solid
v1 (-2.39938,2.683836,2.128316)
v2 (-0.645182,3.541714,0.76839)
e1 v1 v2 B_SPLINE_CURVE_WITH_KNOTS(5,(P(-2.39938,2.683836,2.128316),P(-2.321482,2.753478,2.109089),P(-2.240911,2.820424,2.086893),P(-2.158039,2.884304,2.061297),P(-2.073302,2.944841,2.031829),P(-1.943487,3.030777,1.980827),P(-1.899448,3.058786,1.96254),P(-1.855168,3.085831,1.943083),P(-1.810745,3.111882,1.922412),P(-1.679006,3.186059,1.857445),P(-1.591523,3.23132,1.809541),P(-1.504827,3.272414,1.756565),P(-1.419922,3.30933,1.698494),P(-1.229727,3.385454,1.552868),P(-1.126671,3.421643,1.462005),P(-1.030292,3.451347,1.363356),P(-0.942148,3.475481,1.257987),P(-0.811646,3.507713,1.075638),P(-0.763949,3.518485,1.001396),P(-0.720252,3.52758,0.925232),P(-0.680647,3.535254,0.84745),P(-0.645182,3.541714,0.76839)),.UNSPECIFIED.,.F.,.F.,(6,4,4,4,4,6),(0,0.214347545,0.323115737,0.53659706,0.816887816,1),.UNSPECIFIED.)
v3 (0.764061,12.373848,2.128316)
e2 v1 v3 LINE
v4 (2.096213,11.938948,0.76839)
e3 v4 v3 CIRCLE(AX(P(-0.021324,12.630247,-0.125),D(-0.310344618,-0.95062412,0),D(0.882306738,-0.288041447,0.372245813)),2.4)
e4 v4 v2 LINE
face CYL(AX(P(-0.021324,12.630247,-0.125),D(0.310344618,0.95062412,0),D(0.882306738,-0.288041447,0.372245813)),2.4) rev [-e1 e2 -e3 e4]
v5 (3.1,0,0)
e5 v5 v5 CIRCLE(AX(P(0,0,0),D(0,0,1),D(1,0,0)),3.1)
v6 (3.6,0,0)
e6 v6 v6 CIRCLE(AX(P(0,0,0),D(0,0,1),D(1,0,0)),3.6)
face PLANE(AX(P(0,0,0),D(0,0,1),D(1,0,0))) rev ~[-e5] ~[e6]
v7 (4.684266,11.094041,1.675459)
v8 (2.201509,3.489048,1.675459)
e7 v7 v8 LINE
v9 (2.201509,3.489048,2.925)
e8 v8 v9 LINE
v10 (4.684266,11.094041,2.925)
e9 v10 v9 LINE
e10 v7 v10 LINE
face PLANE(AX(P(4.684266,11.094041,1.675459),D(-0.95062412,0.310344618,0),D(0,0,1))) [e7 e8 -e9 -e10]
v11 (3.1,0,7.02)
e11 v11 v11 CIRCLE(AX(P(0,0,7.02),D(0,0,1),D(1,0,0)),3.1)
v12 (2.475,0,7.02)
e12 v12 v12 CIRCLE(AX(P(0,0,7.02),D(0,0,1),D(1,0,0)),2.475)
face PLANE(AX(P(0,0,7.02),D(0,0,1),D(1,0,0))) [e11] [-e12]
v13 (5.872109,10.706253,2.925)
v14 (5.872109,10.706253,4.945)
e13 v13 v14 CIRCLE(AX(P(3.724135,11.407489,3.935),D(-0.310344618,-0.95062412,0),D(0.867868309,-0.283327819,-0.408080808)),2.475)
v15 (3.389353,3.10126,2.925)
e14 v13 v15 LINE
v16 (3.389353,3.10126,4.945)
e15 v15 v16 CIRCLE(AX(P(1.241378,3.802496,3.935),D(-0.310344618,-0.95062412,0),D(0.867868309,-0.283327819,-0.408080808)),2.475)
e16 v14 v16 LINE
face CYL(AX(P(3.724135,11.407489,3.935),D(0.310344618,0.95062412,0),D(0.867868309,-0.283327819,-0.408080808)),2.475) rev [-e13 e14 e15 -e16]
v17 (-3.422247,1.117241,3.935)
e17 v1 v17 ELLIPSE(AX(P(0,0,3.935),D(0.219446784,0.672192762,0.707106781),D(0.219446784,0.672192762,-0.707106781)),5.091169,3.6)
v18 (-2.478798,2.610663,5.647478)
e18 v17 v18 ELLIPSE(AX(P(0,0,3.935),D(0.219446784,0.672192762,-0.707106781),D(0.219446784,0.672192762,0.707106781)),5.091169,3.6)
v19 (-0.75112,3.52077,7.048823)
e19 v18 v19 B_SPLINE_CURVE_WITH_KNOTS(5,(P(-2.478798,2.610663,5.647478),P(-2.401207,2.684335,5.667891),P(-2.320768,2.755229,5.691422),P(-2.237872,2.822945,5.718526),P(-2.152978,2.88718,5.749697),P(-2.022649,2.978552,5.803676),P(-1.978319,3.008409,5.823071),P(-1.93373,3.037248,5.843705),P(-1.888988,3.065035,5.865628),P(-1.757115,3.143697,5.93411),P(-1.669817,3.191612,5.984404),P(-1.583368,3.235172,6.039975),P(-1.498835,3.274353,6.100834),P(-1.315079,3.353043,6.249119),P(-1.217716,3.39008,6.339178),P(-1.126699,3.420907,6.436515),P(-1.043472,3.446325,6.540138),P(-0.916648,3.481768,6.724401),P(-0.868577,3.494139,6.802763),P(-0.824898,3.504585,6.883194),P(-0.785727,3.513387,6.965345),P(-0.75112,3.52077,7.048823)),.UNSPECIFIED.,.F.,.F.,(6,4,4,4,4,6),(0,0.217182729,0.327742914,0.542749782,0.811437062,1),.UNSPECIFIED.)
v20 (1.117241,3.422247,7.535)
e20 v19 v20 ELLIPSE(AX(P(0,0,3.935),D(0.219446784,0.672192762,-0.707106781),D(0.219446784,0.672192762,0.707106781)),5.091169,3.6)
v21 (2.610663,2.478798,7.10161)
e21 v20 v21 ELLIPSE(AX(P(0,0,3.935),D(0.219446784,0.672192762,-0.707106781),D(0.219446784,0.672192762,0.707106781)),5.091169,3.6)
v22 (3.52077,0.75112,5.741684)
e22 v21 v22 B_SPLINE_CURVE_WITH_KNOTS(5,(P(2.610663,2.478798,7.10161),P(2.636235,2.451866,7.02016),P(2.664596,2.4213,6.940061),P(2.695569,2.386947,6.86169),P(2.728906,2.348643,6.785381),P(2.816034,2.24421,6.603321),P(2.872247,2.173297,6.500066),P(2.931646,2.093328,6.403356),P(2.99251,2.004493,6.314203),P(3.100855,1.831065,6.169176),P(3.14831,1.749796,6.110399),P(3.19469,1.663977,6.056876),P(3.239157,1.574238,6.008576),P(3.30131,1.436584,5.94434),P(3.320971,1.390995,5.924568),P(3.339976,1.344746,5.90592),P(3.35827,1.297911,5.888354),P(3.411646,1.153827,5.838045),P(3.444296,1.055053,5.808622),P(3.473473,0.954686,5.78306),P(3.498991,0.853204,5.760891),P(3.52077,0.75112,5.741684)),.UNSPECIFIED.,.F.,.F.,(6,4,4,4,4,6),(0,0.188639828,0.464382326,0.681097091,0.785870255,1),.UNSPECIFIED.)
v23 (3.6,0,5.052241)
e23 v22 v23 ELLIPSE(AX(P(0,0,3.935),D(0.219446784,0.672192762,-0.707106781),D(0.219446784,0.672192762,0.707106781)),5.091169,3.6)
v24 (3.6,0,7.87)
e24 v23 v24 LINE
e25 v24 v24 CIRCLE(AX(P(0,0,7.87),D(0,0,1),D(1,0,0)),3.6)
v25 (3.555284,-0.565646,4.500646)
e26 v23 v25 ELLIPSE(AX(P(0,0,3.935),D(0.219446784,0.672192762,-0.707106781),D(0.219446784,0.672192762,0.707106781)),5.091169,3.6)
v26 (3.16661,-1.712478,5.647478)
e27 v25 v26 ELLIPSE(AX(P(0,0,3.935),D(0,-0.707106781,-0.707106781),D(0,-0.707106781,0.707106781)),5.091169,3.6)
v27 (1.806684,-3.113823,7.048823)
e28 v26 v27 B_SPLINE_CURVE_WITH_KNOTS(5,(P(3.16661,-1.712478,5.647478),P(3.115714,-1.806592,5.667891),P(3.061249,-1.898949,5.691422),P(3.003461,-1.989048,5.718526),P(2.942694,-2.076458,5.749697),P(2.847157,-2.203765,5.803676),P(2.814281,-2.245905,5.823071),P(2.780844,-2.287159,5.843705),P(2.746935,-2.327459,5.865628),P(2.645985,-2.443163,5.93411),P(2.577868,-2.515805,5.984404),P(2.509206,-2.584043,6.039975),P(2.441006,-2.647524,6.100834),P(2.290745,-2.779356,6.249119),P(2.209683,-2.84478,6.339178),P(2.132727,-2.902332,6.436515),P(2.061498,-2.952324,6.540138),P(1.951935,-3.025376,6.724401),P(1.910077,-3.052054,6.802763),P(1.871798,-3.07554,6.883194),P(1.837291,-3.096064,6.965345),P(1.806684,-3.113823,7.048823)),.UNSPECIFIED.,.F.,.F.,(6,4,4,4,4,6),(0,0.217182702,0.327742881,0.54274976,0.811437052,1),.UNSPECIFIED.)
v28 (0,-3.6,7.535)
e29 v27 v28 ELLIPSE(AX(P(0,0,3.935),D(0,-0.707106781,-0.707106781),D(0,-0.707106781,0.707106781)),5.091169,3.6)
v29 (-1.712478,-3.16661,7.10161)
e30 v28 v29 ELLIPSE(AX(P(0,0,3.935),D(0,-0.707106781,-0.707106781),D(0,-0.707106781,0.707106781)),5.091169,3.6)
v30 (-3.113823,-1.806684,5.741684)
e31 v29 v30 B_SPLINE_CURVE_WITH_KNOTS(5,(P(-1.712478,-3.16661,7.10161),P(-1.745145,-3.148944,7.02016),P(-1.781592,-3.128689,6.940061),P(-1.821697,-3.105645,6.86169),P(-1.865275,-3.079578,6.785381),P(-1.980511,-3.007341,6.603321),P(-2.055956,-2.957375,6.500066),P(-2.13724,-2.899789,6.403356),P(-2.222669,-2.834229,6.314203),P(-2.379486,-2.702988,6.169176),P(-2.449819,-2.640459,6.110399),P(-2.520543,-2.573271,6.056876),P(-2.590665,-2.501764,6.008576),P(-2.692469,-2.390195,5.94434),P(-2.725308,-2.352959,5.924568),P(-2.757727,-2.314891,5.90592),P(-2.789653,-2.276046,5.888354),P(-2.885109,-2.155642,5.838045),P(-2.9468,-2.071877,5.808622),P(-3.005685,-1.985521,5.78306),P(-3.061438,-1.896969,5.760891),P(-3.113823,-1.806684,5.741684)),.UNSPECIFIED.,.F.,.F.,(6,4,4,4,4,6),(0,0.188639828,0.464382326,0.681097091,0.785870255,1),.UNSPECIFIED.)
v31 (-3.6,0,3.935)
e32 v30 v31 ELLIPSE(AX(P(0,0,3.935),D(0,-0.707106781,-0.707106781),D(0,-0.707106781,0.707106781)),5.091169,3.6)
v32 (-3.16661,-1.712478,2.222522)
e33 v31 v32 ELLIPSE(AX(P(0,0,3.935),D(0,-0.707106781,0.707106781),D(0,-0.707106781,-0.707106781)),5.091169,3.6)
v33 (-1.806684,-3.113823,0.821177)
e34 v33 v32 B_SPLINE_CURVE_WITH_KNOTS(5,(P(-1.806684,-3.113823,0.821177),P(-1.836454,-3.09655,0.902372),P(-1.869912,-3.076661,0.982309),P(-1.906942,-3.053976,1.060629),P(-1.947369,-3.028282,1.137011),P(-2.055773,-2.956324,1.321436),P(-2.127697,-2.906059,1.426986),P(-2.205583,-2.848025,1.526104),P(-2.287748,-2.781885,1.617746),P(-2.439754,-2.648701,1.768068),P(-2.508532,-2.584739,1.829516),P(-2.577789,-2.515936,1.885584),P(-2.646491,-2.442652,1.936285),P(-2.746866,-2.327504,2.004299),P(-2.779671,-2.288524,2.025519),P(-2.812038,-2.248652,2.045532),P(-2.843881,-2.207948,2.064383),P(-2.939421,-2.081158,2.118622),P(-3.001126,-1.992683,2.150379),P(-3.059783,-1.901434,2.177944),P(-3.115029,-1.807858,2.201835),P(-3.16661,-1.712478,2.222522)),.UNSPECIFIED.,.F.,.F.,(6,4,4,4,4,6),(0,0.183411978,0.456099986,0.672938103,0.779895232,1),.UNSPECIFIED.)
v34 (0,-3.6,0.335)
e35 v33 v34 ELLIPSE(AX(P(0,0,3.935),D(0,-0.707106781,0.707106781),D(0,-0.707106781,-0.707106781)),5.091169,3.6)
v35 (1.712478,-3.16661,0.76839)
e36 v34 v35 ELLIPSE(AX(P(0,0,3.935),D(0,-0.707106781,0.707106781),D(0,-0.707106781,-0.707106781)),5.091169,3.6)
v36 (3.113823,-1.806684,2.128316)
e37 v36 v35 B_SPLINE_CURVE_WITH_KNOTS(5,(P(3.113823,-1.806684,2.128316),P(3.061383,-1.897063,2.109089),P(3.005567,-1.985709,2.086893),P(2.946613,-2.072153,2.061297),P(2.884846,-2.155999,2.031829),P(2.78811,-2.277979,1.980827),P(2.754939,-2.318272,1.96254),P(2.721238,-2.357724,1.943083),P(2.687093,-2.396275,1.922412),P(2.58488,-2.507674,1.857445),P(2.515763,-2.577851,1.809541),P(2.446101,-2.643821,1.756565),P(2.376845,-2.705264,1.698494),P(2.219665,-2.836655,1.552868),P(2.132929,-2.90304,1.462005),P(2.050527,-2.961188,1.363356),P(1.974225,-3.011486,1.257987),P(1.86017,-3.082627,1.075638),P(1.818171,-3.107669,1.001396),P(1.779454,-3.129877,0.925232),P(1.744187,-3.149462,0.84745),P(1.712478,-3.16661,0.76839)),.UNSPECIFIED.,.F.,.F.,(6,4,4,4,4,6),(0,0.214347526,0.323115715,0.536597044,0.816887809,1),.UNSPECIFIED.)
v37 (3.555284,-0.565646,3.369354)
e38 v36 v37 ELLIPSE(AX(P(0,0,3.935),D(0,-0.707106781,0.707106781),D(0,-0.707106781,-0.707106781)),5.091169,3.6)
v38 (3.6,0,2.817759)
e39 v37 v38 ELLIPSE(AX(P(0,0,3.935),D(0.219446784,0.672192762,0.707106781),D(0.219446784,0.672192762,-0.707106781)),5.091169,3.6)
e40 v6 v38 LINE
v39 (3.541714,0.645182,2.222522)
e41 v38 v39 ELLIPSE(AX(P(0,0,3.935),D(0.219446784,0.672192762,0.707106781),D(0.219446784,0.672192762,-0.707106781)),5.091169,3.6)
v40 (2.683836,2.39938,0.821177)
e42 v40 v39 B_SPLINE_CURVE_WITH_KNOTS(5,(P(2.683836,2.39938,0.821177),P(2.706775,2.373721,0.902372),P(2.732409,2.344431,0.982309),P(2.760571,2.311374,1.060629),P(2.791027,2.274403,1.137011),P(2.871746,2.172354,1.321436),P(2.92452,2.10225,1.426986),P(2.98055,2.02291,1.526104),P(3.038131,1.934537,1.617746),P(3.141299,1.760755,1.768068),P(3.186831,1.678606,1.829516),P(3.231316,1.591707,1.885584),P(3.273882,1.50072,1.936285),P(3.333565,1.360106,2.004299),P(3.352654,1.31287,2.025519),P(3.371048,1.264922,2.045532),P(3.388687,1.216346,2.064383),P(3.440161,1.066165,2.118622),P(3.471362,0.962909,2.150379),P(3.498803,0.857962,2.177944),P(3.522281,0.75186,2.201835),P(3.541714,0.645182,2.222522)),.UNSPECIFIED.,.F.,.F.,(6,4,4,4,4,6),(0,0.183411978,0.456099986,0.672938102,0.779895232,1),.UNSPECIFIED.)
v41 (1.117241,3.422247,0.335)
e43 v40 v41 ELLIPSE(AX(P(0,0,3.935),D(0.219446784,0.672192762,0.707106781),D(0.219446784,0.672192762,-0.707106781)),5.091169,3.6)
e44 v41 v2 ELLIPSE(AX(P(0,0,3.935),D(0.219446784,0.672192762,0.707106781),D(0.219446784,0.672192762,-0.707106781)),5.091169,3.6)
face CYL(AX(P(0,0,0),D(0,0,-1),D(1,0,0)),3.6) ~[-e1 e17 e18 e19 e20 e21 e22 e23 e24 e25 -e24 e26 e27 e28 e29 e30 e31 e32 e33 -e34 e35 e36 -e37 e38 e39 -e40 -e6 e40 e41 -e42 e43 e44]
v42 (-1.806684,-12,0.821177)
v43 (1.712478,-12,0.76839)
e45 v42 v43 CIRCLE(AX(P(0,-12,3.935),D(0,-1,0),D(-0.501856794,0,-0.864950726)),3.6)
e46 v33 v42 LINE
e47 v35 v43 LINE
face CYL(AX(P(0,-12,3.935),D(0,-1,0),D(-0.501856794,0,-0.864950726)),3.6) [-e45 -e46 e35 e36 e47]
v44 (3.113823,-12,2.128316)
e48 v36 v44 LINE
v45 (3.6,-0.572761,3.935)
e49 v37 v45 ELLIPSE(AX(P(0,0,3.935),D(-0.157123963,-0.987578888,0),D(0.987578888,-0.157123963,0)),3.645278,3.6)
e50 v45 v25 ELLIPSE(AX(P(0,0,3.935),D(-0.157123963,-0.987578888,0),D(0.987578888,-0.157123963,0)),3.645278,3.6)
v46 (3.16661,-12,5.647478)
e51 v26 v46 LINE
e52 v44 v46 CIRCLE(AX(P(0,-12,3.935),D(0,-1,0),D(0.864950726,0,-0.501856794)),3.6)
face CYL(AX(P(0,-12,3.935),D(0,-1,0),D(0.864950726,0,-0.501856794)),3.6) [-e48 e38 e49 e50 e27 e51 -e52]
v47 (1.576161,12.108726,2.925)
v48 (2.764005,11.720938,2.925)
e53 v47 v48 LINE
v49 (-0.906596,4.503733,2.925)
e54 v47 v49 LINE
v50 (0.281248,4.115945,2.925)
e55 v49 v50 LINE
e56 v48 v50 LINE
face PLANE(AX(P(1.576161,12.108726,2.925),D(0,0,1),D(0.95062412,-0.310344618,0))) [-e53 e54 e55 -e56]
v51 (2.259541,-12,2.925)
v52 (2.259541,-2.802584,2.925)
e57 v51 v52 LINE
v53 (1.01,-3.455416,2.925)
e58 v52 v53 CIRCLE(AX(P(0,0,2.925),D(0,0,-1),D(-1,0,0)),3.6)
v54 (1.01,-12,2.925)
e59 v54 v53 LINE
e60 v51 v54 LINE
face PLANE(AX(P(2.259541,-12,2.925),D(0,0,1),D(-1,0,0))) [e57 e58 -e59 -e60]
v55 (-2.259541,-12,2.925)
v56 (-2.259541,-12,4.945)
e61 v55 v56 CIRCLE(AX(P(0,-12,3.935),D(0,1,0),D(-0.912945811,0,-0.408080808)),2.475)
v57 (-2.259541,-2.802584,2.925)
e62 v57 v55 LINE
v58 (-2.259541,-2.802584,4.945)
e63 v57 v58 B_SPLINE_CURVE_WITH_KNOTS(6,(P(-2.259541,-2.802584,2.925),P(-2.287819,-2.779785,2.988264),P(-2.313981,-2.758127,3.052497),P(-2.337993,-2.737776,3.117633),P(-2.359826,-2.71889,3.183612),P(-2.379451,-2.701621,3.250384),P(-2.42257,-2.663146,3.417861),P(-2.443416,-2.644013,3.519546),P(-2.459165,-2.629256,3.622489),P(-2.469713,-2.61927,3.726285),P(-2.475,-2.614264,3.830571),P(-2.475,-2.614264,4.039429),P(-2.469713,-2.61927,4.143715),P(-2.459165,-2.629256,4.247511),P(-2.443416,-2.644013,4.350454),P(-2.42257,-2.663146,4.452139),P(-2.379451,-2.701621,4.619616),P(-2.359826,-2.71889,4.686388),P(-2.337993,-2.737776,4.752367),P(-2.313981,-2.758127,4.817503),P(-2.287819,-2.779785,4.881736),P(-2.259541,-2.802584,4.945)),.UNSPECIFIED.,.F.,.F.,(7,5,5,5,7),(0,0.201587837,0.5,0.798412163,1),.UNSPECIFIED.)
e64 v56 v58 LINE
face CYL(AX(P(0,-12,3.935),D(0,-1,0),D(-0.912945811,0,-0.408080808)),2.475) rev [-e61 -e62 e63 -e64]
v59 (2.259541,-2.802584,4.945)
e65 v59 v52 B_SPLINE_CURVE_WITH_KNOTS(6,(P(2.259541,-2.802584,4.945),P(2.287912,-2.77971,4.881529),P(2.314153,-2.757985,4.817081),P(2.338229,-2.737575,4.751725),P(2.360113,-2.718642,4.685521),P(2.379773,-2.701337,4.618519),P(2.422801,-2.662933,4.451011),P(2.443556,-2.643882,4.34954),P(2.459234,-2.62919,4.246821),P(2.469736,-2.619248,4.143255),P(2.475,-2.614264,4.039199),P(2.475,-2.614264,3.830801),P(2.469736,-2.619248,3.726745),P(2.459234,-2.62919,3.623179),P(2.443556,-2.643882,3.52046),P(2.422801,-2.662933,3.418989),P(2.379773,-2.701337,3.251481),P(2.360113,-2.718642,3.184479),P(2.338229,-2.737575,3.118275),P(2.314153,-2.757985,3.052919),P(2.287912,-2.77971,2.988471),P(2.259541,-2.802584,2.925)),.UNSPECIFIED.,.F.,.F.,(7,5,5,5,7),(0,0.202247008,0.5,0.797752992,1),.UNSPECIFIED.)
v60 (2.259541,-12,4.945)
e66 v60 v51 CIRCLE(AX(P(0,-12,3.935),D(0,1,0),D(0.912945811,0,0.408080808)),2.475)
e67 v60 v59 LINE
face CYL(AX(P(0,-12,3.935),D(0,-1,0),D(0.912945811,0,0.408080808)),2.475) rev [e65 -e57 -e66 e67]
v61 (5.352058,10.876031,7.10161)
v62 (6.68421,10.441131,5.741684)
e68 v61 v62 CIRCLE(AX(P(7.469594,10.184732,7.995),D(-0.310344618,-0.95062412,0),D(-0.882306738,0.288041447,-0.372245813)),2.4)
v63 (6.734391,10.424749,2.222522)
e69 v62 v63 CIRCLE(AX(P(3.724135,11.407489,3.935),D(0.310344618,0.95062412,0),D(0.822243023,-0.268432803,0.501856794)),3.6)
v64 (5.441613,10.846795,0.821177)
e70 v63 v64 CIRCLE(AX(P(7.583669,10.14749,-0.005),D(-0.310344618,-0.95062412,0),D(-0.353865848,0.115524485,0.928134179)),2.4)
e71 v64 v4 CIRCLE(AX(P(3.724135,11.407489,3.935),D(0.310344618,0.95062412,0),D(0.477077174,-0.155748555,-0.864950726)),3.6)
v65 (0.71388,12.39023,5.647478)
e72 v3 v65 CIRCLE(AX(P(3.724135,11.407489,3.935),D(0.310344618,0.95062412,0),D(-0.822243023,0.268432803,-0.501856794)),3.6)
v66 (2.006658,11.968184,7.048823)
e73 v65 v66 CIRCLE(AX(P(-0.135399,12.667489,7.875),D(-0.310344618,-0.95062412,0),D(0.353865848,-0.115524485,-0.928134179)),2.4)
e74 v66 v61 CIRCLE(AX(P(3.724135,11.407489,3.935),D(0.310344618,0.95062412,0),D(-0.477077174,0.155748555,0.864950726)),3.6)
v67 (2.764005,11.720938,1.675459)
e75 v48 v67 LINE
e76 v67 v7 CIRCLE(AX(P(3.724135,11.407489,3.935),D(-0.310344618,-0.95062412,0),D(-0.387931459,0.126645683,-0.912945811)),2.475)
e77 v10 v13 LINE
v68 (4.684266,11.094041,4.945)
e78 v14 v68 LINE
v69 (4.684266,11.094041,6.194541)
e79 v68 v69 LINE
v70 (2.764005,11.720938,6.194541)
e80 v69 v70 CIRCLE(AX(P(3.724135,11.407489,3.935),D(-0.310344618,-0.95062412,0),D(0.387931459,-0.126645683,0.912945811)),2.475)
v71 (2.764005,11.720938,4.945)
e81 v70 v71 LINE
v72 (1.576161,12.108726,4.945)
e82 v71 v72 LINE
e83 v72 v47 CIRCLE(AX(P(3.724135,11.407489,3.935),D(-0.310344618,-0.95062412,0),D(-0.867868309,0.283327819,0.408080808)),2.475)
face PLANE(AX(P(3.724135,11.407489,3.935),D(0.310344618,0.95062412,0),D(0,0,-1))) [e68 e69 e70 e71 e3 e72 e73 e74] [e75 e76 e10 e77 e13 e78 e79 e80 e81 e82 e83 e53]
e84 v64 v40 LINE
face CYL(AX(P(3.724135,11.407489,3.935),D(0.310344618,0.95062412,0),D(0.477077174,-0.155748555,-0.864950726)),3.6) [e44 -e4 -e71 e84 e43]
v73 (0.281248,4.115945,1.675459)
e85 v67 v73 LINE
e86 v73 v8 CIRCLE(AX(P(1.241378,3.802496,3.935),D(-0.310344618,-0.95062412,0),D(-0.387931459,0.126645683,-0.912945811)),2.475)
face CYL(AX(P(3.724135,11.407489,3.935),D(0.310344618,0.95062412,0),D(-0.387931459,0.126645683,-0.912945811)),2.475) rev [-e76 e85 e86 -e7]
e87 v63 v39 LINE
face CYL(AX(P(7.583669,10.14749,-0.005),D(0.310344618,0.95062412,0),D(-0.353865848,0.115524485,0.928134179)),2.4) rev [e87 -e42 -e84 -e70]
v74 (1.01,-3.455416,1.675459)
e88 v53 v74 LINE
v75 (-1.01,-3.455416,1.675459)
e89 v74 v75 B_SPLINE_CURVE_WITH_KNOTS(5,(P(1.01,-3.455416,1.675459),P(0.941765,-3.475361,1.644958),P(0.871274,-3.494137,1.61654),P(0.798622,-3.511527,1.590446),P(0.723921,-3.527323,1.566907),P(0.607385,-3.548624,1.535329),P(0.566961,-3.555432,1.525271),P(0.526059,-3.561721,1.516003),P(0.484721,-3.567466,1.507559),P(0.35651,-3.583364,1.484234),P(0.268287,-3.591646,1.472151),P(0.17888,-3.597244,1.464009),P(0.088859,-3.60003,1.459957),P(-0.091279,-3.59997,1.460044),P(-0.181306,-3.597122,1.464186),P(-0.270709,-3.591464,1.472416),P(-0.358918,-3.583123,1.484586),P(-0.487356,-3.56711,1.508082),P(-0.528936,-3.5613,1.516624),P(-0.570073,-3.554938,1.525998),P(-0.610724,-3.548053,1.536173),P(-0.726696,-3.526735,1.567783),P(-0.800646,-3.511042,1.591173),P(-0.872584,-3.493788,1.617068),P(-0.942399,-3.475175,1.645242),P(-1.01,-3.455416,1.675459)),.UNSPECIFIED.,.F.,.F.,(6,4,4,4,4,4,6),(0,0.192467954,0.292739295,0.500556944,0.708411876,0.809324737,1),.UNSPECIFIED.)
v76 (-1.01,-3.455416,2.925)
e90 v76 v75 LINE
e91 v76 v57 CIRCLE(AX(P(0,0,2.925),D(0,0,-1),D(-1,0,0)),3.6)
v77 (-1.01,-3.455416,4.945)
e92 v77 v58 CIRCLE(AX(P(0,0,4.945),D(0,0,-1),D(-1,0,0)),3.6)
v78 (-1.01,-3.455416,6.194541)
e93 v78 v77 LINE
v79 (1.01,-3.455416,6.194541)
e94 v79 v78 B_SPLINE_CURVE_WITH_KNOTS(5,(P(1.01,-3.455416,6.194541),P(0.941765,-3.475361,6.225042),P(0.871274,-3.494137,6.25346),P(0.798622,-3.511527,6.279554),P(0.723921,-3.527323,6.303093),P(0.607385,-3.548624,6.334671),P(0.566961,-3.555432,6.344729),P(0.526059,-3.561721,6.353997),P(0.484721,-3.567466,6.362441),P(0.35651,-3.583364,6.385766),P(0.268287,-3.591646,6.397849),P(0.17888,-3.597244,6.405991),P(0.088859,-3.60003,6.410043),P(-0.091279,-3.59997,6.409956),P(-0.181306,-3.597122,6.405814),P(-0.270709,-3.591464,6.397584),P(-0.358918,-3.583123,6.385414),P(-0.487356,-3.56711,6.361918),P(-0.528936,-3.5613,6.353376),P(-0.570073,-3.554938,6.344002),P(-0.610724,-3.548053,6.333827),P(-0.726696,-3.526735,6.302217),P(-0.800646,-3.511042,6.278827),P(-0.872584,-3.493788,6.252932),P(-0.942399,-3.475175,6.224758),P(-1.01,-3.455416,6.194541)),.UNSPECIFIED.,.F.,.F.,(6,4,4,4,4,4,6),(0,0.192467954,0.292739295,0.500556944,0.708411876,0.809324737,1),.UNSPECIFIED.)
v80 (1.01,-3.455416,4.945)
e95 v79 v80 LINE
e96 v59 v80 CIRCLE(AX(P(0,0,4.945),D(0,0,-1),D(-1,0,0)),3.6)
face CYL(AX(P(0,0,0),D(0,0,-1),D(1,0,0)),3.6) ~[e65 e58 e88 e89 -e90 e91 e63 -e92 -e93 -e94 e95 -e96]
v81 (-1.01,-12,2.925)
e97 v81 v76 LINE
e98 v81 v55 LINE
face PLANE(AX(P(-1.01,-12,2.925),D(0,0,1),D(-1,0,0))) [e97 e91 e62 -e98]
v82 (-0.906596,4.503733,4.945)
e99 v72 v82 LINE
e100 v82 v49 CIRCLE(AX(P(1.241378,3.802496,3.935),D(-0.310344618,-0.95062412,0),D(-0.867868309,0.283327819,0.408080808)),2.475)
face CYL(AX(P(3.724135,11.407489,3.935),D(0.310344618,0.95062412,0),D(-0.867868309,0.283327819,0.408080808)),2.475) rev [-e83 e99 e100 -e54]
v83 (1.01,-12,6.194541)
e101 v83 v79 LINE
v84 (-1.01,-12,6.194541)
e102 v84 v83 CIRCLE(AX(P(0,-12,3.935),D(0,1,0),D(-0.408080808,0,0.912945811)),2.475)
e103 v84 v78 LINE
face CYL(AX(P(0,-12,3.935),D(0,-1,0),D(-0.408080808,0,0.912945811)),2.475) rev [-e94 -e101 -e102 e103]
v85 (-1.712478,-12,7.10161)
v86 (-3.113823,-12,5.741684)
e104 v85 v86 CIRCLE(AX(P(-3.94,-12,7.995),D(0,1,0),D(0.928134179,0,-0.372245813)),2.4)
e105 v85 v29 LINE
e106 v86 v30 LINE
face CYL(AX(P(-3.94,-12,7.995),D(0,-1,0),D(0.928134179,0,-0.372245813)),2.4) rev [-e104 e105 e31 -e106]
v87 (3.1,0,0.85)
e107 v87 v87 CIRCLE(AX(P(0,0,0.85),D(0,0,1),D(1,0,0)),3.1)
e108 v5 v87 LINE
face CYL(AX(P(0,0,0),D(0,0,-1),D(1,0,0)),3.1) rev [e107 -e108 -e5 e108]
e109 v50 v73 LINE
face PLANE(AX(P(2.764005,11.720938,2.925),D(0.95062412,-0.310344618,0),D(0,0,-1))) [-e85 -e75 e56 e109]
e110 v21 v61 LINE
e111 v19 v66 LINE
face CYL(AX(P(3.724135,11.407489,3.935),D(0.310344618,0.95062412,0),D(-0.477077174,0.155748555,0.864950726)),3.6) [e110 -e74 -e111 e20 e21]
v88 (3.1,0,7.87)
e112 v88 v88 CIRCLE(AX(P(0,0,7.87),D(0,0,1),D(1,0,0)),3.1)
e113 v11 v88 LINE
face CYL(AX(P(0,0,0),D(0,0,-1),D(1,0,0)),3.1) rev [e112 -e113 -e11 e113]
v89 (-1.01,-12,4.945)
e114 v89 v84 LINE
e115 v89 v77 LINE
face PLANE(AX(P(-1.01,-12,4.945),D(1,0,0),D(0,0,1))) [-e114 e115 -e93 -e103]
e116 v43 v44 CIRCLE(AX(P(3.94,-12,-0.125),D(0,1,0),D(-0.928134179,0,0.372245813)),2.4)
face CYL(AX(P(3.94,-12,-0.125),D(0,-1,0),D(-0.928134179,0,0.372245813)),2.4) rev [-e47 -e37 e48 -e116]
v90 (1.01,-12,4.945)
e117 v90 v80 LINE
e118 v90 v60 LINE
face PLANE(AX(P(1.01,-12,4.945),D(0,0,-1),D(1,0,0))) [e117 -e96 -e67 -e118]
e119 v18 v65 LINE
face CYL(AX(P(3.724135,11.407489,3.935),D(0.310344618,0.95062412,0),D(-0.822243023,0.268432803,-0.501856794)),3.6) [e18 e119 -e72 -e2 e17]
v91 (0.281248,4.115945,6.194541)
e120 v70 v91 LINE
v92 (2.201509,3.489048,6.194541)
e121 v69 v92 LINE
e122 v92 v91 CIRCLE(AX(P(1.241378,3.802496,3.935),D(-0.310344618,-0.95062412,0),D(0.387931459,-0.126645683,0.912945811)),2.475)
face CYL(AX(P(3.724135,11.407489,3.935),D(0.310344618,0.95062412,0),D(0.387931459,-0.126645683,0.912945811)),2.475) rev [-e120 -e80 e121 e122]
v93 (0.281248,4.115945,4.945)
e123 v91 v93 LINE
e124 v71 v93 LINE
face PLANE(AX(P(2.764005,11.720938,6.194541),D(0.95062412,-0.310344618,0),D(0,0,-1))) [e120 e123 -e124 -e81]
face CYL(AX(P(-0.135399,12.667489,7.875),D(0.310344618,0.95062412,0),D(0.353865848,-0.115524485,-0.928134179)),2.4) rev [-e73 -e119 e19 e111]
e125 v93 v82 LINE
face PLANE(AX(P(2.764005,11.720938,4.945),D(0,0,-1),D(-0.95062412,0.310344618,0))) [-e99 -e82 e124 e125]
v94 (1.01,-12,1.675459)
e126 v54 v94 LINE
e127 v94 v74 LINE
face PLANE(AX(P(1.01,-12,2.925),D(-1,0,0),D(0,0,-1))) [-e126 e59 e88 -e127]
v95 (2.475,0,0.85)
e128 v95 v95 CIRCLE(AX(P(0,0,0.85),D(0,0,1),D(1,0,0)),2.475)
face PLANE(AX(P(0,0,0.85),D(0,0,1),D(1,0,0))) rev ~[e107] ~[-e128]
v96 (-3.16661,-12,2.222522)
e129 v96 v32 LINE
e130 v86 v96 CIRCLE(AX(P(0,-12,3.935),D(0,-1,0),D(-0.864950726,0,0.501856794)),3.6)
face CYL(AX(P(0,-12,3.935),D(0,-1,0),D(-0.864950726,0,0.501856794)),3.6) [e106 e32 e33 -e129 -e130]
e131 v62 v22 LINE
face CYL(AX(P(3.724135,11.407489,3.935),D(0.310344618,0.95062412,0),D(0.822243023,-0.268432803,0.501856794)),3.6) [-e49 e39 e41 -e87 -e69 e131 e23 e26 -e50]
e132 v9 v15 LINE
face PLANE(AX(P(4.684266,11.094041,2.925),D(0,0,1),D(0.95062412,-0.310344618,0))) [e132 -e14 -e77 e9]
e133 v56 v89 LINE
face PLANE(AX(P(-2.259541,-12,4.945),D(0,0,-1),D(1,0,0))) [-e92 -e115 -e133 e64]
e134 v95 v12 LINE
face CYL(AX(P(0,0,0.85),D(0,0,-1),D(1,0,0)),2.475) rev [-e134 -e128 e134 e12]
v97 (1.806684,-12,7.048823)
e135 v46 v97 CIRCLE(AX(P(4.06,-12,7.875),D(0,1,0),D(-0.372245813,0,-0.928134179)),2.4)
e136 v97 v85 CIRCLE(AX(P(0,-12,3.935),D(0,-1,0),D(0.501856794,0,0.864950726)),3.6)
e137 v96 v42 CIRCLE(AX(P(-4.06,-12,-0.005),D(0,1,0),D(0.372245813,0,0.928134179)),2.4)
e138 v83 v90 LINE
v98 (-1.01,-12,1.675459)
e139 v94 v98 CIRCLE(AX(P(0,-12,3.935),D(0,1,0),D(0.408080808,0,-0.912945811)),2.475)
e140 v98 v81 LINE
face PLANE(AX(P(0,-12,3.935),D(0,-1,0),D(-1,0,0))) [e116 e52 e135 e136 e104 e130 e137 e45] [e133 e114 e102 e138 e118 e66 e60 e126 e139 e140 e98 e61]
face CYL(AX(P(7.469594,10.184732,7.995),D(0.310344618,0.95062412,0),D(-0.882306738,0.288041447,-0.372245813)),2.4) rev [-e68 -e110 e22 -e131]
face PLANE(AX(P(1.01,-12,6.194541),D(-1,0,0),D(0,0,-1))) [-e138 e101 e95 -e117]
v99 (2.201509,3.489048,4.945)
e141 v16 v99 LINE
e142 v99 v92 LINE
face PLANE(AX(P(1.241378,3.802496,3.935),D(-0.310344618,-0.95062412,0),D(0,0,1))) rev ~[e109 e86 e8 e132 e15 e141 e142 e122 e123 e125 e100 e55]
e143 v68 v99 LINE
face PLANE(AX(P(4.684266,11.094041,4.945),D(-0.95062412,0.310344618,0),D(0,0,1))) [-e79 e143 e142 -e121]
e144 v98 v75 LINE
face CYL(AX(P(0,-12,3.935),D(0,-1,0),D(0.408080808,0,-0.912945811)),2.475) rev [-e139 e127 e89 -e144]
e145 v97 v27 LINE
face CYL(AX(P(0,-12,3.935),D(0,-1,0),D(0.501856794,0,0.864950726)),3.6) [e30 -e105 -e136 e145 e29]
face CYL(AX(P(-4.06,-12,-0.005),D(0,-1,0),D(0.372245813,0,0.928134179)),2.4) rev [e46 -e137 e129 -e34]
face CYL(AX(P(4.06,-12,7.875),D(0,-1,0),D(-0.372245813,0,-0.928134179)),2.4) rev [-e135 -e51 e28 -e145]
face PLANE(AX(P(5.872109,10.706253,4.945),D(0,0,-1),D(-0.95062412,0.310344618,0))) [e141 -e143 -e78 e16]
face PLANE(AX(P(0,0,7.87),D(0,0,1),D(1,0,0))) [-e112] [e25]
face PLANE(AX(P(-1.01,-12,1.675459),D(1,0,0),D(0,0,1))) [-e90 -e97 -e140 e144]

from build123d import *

# Parameters (mm, degrees)
CROQUIS1_R                   = 3.6
CROQUIS1_R_2                 = 3.1
SALIENTE_EXTRUIR1_DEPTH      = 7.87
SALIENTE_EXTRUIR2_START      = 0.85
CROQUIS1_3_R                 = 3.1
CROQUIS1_3_R_2               = 2.475
SALIENTE_EXTRUIR2_DEPTH      = 6.17
SALIENTE_EXTRUIR3_REACH      = 13.518
SALIENTE_EXTRUIR3_END_RADIUS = 3.6
SALIENTE_EXTRUIR4_START      = -8
SALIENTE_EXTRUIR4_DEPTH      = 8
SALIENTE_EXTRUIR5_REACH      = 20.306
SALIENTE_EXTRUIR5_END_RADIUS = 3.6
SALIENTE_EXTRUIR6_START      = -8
SALIENTE_EXTRUIR6_DEPTH      = 8


with BuildPart() as part:
    # Croquis1 → Saliente-Extruir1 (new body)
    with BuildSketch(Plane.XY):
        Circle(CROQUIS1_R)
        Circle(CROQUIS1_R_2, mode=Mode.SUBTRACT)
    extrude(amount=SALIENTE_EXTRUIR1_DEPTH)

    # Croquis1<3> → Saliente-Extruir2 (add)
    with BuildSketch(Plane.XY.offset(SALIENTE_EXTRUIR2_START)):
        Circle(CROQUIS1_3_R)
        Circle(CROQUIS1_3_R_2, mode=Mode.SUBTRACT)
    extrude(amount=SALIENTE_EXTRUIR2_DEPTH)

    # Saliente-Extruir3: up to this cylinder (the profile starts outside it)
    saliente_extruir3_end = Plane(origin=(0, 0, 6.19961), z_dir=(0, 0, -1)) * Cylinder(SALIENTE_EXTRUIR3_END_RADIUS, 35.236000000000004, mode=Mode.PRIVATE)
    # Croquis2 → Saliente-Extruir3 (add, up to the surface)
    with BuildSketch(Plane(origin=(0, -4, 0), x_dir=(1, 0, 0), z_dir=(0, 1, 0)), mode=Mode.PRIVATE) as saliente_extruir3_sk1:
        with BuildLine():
            ThreePointArc((-1.7124779696357202, -7.101610049171246), (0.05399392602494436, -7.534595068330939), (1.806684459564255, -7.048822612733265))
            ThreePointArc((1.806684459564255, -7.048822612733265), (2.337681630948243, -6.203587592595142), (3.1666100491712275, -5.647477969635754))
            ThreePointArc((3.1666100491712275, -5.647477969635754), (3.599595068330938, -3.881006073975069), (3.1138226127332604, -2.1283155404357355))
            ThreePointArc((3.1138226127332604, -2.1283155404357355), (2.268587592595135, -1.597318369051751), (1.7124779696357444, -0.7683899508287686))
            ThreePointArc((1.7124779696357444, -0.7683899508287686), (-0.0539939260249431, -0.3354049316690628), (-1.806684459564274, -0.8211773872667488))
            ThreePointArc((-1.806684459564274, -0.8211773872667488), (-2.337681630948256, -1.6664124074048765), (-3.166610049171237, -2.22252203036427))
            ThreePointArc((-3.166610049171237, -2.22252203036427), (-3.599595068330935, -3.9889939260249565), (-3.1138226127332462, -5.741684459564288))
            ThreePointArc((-3.1138226127332462, -5.741684459564288), (-2.268587592595116, -6.272681630948267), (-1.7124779696357202, -7.101610049171246))
        make_face()
        with BuildLine():
            Line((-1.01, -6.194540882568846), (-1.01, -4.944999999999999))
            Line((-1.01, -4.944999999999999), (-2.2595408825688463, -4.944999999999999))
            ThreePointArc((-2.2595408825688463, -4.944999999999999), (-2.475, -3.9349999999999996), (-2.2595408825688463, -2.9250000000000007))
            Line((-2.2595408825688463, -2.9250000000000007), (-1.01, -2.9250000000000007))
            Line((-1.01, -2.9250000000000007), (-1.01, -1.675459117431154))
            ThreePointArc((-1.01, -1.675459117431154), (1.5e-16, -1.4600000000000004), (1.01, -1.675459117431154))
            Line((1.01, -1.675459117431154), (1.01, -2.9250000000000007))
            Line((1.01, -2.9250000000000007), (2.2595408825688463, -2.9250000000000007))
            ThreePointArc((2.2595408825688463, -2.9250000000000007), (2.475, -3.935), (2.2595408825688463, -4.944999999999999))
            Line((2.2595408825688463, -4.944999999999999), (1.01, -4.944999999999999))
            Line((1.01, -4.944999999999999), (1.01, -6.194540882568846))
            ThreePointArc((1.01, -6.194540882568846), (1.5e-16, -6.41), (-1.01, -6.194540882568846))
        make_face(mode=Mode.SUBTRACT)
    saliente_extruir3_tool1 = extrude(saliente_extruir3_sk1.sketch, amount=SALIENTE_EXTRUIR3_REACH, mode=Mode.PRIVATE) - saliente_extruir3_end
    add(saliente_extruir3_tool1.solids().sort_by_distance((-2.197676, -4, 6.19961))[0])

    # Croquis2<3> → Saliente-Extruir4 (add)
    with BuildSketch(Plane(origin=(0, -4, 0), x_dir=(1, 0, 0), z_dir=(0, 1, 0)).offset(SALIENTE_EXTRUIR4_START)):
        with BuildLine():
            ThreePointArc((-3.166610049171237, -2.22252203036427), (-2.337681630948256, -1.6664124074048765), (-1.806684459564274, -0.8211773872667488))
            ThreePointArc((-1.806684459564274, -0.8211773872667488), (-0.0539939260249431, -0.3354049316690628), (1.7124779696357444, -0.7683899508287686))
            ThreePointArc((1.7124779696357444, -0.7683899508287686), (2.268587592595135, -1.597318369051751), (3.1138226127332604, -2.1283155404357355))
            ThreePointArc((3.1138226127332604, -2.1283155404357355), (3.599595068330938, -3.881006073975069), (3.1666100491712275, -5.647477969635754))
            ThreePointArc((3.1666100491712275, -5.647477969635754), (2.337681630948243, -6.203587592595142), (1.806684459564255, -7.048822612733265))
            ThreePointArc((1.806684459564255, -7.048822612733265), (0.05399392602494436, -7.534595068330939), (-1.7124779696357202, -7.101610049171246))
            ThreePointArc((-1.7124779696357202, -7.101610049171246), (-2.268587592595116, -6.272681630948267), (-3.1138226127332462, -5.741684459564288))
            ThreePointArc((-3.1138226127332462, -5.741684459564288), (-3.599595068330935, -3.9889939260249565), (-3.166610049171237, -2.22252203036427))
        make_face()
        with BuildLine():
            ThreePointArc((-2.2595408825688463, -2.9250000000000007), (-2.475, -3.9349999999999996), (-2.2595408825688463, -4.944999999999999))
            Line((-2.2595408825688463, -4.944999999999999), (-1.01, -4.944999999999999))
            Line((-1.01, -4.944999999999999), (-1.01, -6.194540882568846))
            ThreePointArc((-1.01, -6.194540882568846), (1.5e-16, -6.41), (1.01, -6.194540882568846))
            Line((1.01, -6.194540882568846), (1.01, -4.944999999999999))
            Line((1.01, -4.944999999999999), (2.2595408825688463, -4.944999999999999))
            ThreePointArc((2.2595408825688463, -4.944999999999999), (2.475, -3.935), (2.2595408825688463, -2.9250000000000007))
            Line((2.2595408825688463, -2.9250000000000007), (1.01, -2.9250000000000007))
            Line((1.01, -2.9250000000000007), (1.01, -1.675459117431154))
            ThreePointArc((1.01, -1.675459117431154), (1.5e-16, -1.4600000000000004), (-1.01, -1.675459117431154))
            Line((-1.01, -1.675459117431154), (-1.01, -2.9250000000000007))
            Line((-1.01, -2.9250000000000007), (-2.2595408825688463, -2.9250000000000007))
        make_face(mode=Mode.SUBTRACT)
    extrude(amount=SALIENTE_EXTRUIR4_DEPTH)

    # Saliente-Extruir5: up to this cylinder (the profile starts outside it)
    saliente_extruir5_end = Plane(origin=(0, 0, 3.935), z_dir=(0, 0, -1)) * Cylinder(SALIENTE_EXTRUIR5_END_RADIUS, 48.812000000000005, mode=Mode.PRIVATE)
    # Croquis7 → Saliente-Extruir5 (add, up to the surface)
    with BuildSketch(Plane(origin=(1.2413784725111818, 3.8024964809958477, 0), x_dir=(0, 0, 1), z_dir=(-0.31034461812779546, -0.9506241202489619, 0)), mode=Mode.PRIVATE) as saliente_extruir5_sk1:
        with BuildLine():
            ThreePointArc((2.222522030364279, -3.1666100491712452), (3.9889939260249445, -3.5995950683309377), (5.741684459564254, -3.113822612733264))
            ThreePointArc((5.741684459564254, -3.113822612733264), (6.272681630948287, -2.2685875925951686), (7.101610049171227, -1.7124779696357533))
            ThreePointArc((7.101610049171227, -1.7124779696357533), (7.534595068330938, 0.0539939260249318), (7.048822612733259, 1.8066844595642648))
            ThreePointArc((7.048822612733259, 1.8066844595642648), (6.203587592595132, 2.337681630948248), (5.647477969635745, 3.1666100491712332))
            ThreePointArc((5.647477969635745, 3.1666100491712332), (3.881006073975058, 3.599595068330939), (2.1283155404357252, 3.113822612733254))
            ThreePointArc((2.1283155404357252, 3.113822612733254), (1.5973183690517558, 2.268587592595114), (0.7683899508287607, 1.7124779696357326))
            ThreePointArc((0.7683899508287607, 1.7124779696357326), (0.33540493166906193, -0.05399392602495561), (0.8211773872667536, -1.8066844595642866))
            ThreePointArc((0.8211773872667536, -1.8066844595642866), (1.6664124074048823, -2.337681630948267), (2.222522030364279, -3.1666100491712452))
        make_face()
    saliente_extruir5_tool1 = extrude(saliente_extruir5_sk1.sketch, amount=SALIENTE_EXTRUIR5_REACH, mode=Mode.PRIVATE) - saliente_extruir5_end
    add(saliente_extruir5_tool1.solids().sort_by_distance((1.241378, 3.802496, 3.935))[0])

    # Croquis7<3> → Saliente-Extruir6 (add)
    with BuildSketch(Plane(origin=(1.2413784725111818, 3.8024964809958477, 0), x_dir=(0, 0, 1), z_dir=(-0.31034461812779546, -0.9506241202489619, 0)).offset(SALIENTE_EXTRUIR6_START)):
        with BuildLine():
            ThreePointArc((0.7683899508287607, 1.7124779696357326), (1.5973183690517558, 2.268587592595114), (2.1283155404357252, 3.113822612733254))
            ThreePointArc((2.1283155404357252, 3.113822612733254), (3.881006073975058, 3.599595068330939), (5.647477969635745, 3.1666100491712332))
            ThreePointArc((5.647477969635745, 3.1666100491712332), (6.203587592595132, 2.337681630948248), (7.048822612733259, 1.8066844595642648))
            ThreePointArc((7.048822612733259, 1.8066844595642648), (7.534595068330938, 0.0539939260249318), (7.101610049171227, -1.7124779696357533))
            ThreePointArc((7.101610049171227, -1.7124779696357533), (6.272681630948287, -2.2685875925951686), (5.741684459564254, -3.113822612733264))
            ThreePointArc((5.741684459564254, -3.113822612733264), (3.9889939260249445, -3.5995950683309377), (2.222522030364279, -3.1666100491712452))
            ThreePointArc((2.222522030364279, -3.1666100491712452), (1.6664124074048823, -2.337681630948267), (0.8211773872667536, -1.8066844595642866))
            ThreePointArc((0.8211773872667536, -1.8066844595642866), (0.33540493166906193, -0.05399392602495561), (0.7683899508287607, 1.7124779696357326))
        make_face()
        with BuildLine():
            ThreePointArc((1.675459117431154, 1.010000000000001), (1.4600000000000004, 1.17e-15), (1.675459117431154, -1.0099999999999991))
            Line((1.675459117431154, -1.0099999999999991), (2.925, -1.0099999999999991))
            Line((2.925, -1.0099999999999991), (2.925, -2.2595408825688454))
            ThreePointArc((2.925, -2.2595408825688454), (3.934999999999999, -2.474999999999999), (4.944999999999999, -2.259540882568846))
            Line((4.944999999999999, -2.259540882568846), (4.944999999999999, -1.009999999999999))
            Line((4.944999999999999, -1.009999999999999), (6.194540882568846, -1.0099999999999987))
            ThreePointArc((6.194540882568846, -1.0099999999999987), (6.41, 1e-15), (6.194540882568846, 1.010000000000001))
            Line((6.194540882568846, 1.010000000000001), (4.944999999999999, 1.010000000000001))
            Line((4.944999999999999, 1.010000000000001), (4.944999999999999, 2.259540882568847))
            ThreePointArc((4.944999999999999, 2.259540882568847), (3.9349999999999996, 2.475000000000001), (2.925, 2.2595408825688468))
            Line((2.925, 2.2595408825688468), (2.925, 1.010000000000001))
            Line((2.925, 1.010000000000001), (1.675459117431154, 1.010000000000001))
        make_face(mode=Mode.SUBTRACT)
    extrude(amount=SALIENTE_EXTRUIR6_DEPTH)


solid = part.part
